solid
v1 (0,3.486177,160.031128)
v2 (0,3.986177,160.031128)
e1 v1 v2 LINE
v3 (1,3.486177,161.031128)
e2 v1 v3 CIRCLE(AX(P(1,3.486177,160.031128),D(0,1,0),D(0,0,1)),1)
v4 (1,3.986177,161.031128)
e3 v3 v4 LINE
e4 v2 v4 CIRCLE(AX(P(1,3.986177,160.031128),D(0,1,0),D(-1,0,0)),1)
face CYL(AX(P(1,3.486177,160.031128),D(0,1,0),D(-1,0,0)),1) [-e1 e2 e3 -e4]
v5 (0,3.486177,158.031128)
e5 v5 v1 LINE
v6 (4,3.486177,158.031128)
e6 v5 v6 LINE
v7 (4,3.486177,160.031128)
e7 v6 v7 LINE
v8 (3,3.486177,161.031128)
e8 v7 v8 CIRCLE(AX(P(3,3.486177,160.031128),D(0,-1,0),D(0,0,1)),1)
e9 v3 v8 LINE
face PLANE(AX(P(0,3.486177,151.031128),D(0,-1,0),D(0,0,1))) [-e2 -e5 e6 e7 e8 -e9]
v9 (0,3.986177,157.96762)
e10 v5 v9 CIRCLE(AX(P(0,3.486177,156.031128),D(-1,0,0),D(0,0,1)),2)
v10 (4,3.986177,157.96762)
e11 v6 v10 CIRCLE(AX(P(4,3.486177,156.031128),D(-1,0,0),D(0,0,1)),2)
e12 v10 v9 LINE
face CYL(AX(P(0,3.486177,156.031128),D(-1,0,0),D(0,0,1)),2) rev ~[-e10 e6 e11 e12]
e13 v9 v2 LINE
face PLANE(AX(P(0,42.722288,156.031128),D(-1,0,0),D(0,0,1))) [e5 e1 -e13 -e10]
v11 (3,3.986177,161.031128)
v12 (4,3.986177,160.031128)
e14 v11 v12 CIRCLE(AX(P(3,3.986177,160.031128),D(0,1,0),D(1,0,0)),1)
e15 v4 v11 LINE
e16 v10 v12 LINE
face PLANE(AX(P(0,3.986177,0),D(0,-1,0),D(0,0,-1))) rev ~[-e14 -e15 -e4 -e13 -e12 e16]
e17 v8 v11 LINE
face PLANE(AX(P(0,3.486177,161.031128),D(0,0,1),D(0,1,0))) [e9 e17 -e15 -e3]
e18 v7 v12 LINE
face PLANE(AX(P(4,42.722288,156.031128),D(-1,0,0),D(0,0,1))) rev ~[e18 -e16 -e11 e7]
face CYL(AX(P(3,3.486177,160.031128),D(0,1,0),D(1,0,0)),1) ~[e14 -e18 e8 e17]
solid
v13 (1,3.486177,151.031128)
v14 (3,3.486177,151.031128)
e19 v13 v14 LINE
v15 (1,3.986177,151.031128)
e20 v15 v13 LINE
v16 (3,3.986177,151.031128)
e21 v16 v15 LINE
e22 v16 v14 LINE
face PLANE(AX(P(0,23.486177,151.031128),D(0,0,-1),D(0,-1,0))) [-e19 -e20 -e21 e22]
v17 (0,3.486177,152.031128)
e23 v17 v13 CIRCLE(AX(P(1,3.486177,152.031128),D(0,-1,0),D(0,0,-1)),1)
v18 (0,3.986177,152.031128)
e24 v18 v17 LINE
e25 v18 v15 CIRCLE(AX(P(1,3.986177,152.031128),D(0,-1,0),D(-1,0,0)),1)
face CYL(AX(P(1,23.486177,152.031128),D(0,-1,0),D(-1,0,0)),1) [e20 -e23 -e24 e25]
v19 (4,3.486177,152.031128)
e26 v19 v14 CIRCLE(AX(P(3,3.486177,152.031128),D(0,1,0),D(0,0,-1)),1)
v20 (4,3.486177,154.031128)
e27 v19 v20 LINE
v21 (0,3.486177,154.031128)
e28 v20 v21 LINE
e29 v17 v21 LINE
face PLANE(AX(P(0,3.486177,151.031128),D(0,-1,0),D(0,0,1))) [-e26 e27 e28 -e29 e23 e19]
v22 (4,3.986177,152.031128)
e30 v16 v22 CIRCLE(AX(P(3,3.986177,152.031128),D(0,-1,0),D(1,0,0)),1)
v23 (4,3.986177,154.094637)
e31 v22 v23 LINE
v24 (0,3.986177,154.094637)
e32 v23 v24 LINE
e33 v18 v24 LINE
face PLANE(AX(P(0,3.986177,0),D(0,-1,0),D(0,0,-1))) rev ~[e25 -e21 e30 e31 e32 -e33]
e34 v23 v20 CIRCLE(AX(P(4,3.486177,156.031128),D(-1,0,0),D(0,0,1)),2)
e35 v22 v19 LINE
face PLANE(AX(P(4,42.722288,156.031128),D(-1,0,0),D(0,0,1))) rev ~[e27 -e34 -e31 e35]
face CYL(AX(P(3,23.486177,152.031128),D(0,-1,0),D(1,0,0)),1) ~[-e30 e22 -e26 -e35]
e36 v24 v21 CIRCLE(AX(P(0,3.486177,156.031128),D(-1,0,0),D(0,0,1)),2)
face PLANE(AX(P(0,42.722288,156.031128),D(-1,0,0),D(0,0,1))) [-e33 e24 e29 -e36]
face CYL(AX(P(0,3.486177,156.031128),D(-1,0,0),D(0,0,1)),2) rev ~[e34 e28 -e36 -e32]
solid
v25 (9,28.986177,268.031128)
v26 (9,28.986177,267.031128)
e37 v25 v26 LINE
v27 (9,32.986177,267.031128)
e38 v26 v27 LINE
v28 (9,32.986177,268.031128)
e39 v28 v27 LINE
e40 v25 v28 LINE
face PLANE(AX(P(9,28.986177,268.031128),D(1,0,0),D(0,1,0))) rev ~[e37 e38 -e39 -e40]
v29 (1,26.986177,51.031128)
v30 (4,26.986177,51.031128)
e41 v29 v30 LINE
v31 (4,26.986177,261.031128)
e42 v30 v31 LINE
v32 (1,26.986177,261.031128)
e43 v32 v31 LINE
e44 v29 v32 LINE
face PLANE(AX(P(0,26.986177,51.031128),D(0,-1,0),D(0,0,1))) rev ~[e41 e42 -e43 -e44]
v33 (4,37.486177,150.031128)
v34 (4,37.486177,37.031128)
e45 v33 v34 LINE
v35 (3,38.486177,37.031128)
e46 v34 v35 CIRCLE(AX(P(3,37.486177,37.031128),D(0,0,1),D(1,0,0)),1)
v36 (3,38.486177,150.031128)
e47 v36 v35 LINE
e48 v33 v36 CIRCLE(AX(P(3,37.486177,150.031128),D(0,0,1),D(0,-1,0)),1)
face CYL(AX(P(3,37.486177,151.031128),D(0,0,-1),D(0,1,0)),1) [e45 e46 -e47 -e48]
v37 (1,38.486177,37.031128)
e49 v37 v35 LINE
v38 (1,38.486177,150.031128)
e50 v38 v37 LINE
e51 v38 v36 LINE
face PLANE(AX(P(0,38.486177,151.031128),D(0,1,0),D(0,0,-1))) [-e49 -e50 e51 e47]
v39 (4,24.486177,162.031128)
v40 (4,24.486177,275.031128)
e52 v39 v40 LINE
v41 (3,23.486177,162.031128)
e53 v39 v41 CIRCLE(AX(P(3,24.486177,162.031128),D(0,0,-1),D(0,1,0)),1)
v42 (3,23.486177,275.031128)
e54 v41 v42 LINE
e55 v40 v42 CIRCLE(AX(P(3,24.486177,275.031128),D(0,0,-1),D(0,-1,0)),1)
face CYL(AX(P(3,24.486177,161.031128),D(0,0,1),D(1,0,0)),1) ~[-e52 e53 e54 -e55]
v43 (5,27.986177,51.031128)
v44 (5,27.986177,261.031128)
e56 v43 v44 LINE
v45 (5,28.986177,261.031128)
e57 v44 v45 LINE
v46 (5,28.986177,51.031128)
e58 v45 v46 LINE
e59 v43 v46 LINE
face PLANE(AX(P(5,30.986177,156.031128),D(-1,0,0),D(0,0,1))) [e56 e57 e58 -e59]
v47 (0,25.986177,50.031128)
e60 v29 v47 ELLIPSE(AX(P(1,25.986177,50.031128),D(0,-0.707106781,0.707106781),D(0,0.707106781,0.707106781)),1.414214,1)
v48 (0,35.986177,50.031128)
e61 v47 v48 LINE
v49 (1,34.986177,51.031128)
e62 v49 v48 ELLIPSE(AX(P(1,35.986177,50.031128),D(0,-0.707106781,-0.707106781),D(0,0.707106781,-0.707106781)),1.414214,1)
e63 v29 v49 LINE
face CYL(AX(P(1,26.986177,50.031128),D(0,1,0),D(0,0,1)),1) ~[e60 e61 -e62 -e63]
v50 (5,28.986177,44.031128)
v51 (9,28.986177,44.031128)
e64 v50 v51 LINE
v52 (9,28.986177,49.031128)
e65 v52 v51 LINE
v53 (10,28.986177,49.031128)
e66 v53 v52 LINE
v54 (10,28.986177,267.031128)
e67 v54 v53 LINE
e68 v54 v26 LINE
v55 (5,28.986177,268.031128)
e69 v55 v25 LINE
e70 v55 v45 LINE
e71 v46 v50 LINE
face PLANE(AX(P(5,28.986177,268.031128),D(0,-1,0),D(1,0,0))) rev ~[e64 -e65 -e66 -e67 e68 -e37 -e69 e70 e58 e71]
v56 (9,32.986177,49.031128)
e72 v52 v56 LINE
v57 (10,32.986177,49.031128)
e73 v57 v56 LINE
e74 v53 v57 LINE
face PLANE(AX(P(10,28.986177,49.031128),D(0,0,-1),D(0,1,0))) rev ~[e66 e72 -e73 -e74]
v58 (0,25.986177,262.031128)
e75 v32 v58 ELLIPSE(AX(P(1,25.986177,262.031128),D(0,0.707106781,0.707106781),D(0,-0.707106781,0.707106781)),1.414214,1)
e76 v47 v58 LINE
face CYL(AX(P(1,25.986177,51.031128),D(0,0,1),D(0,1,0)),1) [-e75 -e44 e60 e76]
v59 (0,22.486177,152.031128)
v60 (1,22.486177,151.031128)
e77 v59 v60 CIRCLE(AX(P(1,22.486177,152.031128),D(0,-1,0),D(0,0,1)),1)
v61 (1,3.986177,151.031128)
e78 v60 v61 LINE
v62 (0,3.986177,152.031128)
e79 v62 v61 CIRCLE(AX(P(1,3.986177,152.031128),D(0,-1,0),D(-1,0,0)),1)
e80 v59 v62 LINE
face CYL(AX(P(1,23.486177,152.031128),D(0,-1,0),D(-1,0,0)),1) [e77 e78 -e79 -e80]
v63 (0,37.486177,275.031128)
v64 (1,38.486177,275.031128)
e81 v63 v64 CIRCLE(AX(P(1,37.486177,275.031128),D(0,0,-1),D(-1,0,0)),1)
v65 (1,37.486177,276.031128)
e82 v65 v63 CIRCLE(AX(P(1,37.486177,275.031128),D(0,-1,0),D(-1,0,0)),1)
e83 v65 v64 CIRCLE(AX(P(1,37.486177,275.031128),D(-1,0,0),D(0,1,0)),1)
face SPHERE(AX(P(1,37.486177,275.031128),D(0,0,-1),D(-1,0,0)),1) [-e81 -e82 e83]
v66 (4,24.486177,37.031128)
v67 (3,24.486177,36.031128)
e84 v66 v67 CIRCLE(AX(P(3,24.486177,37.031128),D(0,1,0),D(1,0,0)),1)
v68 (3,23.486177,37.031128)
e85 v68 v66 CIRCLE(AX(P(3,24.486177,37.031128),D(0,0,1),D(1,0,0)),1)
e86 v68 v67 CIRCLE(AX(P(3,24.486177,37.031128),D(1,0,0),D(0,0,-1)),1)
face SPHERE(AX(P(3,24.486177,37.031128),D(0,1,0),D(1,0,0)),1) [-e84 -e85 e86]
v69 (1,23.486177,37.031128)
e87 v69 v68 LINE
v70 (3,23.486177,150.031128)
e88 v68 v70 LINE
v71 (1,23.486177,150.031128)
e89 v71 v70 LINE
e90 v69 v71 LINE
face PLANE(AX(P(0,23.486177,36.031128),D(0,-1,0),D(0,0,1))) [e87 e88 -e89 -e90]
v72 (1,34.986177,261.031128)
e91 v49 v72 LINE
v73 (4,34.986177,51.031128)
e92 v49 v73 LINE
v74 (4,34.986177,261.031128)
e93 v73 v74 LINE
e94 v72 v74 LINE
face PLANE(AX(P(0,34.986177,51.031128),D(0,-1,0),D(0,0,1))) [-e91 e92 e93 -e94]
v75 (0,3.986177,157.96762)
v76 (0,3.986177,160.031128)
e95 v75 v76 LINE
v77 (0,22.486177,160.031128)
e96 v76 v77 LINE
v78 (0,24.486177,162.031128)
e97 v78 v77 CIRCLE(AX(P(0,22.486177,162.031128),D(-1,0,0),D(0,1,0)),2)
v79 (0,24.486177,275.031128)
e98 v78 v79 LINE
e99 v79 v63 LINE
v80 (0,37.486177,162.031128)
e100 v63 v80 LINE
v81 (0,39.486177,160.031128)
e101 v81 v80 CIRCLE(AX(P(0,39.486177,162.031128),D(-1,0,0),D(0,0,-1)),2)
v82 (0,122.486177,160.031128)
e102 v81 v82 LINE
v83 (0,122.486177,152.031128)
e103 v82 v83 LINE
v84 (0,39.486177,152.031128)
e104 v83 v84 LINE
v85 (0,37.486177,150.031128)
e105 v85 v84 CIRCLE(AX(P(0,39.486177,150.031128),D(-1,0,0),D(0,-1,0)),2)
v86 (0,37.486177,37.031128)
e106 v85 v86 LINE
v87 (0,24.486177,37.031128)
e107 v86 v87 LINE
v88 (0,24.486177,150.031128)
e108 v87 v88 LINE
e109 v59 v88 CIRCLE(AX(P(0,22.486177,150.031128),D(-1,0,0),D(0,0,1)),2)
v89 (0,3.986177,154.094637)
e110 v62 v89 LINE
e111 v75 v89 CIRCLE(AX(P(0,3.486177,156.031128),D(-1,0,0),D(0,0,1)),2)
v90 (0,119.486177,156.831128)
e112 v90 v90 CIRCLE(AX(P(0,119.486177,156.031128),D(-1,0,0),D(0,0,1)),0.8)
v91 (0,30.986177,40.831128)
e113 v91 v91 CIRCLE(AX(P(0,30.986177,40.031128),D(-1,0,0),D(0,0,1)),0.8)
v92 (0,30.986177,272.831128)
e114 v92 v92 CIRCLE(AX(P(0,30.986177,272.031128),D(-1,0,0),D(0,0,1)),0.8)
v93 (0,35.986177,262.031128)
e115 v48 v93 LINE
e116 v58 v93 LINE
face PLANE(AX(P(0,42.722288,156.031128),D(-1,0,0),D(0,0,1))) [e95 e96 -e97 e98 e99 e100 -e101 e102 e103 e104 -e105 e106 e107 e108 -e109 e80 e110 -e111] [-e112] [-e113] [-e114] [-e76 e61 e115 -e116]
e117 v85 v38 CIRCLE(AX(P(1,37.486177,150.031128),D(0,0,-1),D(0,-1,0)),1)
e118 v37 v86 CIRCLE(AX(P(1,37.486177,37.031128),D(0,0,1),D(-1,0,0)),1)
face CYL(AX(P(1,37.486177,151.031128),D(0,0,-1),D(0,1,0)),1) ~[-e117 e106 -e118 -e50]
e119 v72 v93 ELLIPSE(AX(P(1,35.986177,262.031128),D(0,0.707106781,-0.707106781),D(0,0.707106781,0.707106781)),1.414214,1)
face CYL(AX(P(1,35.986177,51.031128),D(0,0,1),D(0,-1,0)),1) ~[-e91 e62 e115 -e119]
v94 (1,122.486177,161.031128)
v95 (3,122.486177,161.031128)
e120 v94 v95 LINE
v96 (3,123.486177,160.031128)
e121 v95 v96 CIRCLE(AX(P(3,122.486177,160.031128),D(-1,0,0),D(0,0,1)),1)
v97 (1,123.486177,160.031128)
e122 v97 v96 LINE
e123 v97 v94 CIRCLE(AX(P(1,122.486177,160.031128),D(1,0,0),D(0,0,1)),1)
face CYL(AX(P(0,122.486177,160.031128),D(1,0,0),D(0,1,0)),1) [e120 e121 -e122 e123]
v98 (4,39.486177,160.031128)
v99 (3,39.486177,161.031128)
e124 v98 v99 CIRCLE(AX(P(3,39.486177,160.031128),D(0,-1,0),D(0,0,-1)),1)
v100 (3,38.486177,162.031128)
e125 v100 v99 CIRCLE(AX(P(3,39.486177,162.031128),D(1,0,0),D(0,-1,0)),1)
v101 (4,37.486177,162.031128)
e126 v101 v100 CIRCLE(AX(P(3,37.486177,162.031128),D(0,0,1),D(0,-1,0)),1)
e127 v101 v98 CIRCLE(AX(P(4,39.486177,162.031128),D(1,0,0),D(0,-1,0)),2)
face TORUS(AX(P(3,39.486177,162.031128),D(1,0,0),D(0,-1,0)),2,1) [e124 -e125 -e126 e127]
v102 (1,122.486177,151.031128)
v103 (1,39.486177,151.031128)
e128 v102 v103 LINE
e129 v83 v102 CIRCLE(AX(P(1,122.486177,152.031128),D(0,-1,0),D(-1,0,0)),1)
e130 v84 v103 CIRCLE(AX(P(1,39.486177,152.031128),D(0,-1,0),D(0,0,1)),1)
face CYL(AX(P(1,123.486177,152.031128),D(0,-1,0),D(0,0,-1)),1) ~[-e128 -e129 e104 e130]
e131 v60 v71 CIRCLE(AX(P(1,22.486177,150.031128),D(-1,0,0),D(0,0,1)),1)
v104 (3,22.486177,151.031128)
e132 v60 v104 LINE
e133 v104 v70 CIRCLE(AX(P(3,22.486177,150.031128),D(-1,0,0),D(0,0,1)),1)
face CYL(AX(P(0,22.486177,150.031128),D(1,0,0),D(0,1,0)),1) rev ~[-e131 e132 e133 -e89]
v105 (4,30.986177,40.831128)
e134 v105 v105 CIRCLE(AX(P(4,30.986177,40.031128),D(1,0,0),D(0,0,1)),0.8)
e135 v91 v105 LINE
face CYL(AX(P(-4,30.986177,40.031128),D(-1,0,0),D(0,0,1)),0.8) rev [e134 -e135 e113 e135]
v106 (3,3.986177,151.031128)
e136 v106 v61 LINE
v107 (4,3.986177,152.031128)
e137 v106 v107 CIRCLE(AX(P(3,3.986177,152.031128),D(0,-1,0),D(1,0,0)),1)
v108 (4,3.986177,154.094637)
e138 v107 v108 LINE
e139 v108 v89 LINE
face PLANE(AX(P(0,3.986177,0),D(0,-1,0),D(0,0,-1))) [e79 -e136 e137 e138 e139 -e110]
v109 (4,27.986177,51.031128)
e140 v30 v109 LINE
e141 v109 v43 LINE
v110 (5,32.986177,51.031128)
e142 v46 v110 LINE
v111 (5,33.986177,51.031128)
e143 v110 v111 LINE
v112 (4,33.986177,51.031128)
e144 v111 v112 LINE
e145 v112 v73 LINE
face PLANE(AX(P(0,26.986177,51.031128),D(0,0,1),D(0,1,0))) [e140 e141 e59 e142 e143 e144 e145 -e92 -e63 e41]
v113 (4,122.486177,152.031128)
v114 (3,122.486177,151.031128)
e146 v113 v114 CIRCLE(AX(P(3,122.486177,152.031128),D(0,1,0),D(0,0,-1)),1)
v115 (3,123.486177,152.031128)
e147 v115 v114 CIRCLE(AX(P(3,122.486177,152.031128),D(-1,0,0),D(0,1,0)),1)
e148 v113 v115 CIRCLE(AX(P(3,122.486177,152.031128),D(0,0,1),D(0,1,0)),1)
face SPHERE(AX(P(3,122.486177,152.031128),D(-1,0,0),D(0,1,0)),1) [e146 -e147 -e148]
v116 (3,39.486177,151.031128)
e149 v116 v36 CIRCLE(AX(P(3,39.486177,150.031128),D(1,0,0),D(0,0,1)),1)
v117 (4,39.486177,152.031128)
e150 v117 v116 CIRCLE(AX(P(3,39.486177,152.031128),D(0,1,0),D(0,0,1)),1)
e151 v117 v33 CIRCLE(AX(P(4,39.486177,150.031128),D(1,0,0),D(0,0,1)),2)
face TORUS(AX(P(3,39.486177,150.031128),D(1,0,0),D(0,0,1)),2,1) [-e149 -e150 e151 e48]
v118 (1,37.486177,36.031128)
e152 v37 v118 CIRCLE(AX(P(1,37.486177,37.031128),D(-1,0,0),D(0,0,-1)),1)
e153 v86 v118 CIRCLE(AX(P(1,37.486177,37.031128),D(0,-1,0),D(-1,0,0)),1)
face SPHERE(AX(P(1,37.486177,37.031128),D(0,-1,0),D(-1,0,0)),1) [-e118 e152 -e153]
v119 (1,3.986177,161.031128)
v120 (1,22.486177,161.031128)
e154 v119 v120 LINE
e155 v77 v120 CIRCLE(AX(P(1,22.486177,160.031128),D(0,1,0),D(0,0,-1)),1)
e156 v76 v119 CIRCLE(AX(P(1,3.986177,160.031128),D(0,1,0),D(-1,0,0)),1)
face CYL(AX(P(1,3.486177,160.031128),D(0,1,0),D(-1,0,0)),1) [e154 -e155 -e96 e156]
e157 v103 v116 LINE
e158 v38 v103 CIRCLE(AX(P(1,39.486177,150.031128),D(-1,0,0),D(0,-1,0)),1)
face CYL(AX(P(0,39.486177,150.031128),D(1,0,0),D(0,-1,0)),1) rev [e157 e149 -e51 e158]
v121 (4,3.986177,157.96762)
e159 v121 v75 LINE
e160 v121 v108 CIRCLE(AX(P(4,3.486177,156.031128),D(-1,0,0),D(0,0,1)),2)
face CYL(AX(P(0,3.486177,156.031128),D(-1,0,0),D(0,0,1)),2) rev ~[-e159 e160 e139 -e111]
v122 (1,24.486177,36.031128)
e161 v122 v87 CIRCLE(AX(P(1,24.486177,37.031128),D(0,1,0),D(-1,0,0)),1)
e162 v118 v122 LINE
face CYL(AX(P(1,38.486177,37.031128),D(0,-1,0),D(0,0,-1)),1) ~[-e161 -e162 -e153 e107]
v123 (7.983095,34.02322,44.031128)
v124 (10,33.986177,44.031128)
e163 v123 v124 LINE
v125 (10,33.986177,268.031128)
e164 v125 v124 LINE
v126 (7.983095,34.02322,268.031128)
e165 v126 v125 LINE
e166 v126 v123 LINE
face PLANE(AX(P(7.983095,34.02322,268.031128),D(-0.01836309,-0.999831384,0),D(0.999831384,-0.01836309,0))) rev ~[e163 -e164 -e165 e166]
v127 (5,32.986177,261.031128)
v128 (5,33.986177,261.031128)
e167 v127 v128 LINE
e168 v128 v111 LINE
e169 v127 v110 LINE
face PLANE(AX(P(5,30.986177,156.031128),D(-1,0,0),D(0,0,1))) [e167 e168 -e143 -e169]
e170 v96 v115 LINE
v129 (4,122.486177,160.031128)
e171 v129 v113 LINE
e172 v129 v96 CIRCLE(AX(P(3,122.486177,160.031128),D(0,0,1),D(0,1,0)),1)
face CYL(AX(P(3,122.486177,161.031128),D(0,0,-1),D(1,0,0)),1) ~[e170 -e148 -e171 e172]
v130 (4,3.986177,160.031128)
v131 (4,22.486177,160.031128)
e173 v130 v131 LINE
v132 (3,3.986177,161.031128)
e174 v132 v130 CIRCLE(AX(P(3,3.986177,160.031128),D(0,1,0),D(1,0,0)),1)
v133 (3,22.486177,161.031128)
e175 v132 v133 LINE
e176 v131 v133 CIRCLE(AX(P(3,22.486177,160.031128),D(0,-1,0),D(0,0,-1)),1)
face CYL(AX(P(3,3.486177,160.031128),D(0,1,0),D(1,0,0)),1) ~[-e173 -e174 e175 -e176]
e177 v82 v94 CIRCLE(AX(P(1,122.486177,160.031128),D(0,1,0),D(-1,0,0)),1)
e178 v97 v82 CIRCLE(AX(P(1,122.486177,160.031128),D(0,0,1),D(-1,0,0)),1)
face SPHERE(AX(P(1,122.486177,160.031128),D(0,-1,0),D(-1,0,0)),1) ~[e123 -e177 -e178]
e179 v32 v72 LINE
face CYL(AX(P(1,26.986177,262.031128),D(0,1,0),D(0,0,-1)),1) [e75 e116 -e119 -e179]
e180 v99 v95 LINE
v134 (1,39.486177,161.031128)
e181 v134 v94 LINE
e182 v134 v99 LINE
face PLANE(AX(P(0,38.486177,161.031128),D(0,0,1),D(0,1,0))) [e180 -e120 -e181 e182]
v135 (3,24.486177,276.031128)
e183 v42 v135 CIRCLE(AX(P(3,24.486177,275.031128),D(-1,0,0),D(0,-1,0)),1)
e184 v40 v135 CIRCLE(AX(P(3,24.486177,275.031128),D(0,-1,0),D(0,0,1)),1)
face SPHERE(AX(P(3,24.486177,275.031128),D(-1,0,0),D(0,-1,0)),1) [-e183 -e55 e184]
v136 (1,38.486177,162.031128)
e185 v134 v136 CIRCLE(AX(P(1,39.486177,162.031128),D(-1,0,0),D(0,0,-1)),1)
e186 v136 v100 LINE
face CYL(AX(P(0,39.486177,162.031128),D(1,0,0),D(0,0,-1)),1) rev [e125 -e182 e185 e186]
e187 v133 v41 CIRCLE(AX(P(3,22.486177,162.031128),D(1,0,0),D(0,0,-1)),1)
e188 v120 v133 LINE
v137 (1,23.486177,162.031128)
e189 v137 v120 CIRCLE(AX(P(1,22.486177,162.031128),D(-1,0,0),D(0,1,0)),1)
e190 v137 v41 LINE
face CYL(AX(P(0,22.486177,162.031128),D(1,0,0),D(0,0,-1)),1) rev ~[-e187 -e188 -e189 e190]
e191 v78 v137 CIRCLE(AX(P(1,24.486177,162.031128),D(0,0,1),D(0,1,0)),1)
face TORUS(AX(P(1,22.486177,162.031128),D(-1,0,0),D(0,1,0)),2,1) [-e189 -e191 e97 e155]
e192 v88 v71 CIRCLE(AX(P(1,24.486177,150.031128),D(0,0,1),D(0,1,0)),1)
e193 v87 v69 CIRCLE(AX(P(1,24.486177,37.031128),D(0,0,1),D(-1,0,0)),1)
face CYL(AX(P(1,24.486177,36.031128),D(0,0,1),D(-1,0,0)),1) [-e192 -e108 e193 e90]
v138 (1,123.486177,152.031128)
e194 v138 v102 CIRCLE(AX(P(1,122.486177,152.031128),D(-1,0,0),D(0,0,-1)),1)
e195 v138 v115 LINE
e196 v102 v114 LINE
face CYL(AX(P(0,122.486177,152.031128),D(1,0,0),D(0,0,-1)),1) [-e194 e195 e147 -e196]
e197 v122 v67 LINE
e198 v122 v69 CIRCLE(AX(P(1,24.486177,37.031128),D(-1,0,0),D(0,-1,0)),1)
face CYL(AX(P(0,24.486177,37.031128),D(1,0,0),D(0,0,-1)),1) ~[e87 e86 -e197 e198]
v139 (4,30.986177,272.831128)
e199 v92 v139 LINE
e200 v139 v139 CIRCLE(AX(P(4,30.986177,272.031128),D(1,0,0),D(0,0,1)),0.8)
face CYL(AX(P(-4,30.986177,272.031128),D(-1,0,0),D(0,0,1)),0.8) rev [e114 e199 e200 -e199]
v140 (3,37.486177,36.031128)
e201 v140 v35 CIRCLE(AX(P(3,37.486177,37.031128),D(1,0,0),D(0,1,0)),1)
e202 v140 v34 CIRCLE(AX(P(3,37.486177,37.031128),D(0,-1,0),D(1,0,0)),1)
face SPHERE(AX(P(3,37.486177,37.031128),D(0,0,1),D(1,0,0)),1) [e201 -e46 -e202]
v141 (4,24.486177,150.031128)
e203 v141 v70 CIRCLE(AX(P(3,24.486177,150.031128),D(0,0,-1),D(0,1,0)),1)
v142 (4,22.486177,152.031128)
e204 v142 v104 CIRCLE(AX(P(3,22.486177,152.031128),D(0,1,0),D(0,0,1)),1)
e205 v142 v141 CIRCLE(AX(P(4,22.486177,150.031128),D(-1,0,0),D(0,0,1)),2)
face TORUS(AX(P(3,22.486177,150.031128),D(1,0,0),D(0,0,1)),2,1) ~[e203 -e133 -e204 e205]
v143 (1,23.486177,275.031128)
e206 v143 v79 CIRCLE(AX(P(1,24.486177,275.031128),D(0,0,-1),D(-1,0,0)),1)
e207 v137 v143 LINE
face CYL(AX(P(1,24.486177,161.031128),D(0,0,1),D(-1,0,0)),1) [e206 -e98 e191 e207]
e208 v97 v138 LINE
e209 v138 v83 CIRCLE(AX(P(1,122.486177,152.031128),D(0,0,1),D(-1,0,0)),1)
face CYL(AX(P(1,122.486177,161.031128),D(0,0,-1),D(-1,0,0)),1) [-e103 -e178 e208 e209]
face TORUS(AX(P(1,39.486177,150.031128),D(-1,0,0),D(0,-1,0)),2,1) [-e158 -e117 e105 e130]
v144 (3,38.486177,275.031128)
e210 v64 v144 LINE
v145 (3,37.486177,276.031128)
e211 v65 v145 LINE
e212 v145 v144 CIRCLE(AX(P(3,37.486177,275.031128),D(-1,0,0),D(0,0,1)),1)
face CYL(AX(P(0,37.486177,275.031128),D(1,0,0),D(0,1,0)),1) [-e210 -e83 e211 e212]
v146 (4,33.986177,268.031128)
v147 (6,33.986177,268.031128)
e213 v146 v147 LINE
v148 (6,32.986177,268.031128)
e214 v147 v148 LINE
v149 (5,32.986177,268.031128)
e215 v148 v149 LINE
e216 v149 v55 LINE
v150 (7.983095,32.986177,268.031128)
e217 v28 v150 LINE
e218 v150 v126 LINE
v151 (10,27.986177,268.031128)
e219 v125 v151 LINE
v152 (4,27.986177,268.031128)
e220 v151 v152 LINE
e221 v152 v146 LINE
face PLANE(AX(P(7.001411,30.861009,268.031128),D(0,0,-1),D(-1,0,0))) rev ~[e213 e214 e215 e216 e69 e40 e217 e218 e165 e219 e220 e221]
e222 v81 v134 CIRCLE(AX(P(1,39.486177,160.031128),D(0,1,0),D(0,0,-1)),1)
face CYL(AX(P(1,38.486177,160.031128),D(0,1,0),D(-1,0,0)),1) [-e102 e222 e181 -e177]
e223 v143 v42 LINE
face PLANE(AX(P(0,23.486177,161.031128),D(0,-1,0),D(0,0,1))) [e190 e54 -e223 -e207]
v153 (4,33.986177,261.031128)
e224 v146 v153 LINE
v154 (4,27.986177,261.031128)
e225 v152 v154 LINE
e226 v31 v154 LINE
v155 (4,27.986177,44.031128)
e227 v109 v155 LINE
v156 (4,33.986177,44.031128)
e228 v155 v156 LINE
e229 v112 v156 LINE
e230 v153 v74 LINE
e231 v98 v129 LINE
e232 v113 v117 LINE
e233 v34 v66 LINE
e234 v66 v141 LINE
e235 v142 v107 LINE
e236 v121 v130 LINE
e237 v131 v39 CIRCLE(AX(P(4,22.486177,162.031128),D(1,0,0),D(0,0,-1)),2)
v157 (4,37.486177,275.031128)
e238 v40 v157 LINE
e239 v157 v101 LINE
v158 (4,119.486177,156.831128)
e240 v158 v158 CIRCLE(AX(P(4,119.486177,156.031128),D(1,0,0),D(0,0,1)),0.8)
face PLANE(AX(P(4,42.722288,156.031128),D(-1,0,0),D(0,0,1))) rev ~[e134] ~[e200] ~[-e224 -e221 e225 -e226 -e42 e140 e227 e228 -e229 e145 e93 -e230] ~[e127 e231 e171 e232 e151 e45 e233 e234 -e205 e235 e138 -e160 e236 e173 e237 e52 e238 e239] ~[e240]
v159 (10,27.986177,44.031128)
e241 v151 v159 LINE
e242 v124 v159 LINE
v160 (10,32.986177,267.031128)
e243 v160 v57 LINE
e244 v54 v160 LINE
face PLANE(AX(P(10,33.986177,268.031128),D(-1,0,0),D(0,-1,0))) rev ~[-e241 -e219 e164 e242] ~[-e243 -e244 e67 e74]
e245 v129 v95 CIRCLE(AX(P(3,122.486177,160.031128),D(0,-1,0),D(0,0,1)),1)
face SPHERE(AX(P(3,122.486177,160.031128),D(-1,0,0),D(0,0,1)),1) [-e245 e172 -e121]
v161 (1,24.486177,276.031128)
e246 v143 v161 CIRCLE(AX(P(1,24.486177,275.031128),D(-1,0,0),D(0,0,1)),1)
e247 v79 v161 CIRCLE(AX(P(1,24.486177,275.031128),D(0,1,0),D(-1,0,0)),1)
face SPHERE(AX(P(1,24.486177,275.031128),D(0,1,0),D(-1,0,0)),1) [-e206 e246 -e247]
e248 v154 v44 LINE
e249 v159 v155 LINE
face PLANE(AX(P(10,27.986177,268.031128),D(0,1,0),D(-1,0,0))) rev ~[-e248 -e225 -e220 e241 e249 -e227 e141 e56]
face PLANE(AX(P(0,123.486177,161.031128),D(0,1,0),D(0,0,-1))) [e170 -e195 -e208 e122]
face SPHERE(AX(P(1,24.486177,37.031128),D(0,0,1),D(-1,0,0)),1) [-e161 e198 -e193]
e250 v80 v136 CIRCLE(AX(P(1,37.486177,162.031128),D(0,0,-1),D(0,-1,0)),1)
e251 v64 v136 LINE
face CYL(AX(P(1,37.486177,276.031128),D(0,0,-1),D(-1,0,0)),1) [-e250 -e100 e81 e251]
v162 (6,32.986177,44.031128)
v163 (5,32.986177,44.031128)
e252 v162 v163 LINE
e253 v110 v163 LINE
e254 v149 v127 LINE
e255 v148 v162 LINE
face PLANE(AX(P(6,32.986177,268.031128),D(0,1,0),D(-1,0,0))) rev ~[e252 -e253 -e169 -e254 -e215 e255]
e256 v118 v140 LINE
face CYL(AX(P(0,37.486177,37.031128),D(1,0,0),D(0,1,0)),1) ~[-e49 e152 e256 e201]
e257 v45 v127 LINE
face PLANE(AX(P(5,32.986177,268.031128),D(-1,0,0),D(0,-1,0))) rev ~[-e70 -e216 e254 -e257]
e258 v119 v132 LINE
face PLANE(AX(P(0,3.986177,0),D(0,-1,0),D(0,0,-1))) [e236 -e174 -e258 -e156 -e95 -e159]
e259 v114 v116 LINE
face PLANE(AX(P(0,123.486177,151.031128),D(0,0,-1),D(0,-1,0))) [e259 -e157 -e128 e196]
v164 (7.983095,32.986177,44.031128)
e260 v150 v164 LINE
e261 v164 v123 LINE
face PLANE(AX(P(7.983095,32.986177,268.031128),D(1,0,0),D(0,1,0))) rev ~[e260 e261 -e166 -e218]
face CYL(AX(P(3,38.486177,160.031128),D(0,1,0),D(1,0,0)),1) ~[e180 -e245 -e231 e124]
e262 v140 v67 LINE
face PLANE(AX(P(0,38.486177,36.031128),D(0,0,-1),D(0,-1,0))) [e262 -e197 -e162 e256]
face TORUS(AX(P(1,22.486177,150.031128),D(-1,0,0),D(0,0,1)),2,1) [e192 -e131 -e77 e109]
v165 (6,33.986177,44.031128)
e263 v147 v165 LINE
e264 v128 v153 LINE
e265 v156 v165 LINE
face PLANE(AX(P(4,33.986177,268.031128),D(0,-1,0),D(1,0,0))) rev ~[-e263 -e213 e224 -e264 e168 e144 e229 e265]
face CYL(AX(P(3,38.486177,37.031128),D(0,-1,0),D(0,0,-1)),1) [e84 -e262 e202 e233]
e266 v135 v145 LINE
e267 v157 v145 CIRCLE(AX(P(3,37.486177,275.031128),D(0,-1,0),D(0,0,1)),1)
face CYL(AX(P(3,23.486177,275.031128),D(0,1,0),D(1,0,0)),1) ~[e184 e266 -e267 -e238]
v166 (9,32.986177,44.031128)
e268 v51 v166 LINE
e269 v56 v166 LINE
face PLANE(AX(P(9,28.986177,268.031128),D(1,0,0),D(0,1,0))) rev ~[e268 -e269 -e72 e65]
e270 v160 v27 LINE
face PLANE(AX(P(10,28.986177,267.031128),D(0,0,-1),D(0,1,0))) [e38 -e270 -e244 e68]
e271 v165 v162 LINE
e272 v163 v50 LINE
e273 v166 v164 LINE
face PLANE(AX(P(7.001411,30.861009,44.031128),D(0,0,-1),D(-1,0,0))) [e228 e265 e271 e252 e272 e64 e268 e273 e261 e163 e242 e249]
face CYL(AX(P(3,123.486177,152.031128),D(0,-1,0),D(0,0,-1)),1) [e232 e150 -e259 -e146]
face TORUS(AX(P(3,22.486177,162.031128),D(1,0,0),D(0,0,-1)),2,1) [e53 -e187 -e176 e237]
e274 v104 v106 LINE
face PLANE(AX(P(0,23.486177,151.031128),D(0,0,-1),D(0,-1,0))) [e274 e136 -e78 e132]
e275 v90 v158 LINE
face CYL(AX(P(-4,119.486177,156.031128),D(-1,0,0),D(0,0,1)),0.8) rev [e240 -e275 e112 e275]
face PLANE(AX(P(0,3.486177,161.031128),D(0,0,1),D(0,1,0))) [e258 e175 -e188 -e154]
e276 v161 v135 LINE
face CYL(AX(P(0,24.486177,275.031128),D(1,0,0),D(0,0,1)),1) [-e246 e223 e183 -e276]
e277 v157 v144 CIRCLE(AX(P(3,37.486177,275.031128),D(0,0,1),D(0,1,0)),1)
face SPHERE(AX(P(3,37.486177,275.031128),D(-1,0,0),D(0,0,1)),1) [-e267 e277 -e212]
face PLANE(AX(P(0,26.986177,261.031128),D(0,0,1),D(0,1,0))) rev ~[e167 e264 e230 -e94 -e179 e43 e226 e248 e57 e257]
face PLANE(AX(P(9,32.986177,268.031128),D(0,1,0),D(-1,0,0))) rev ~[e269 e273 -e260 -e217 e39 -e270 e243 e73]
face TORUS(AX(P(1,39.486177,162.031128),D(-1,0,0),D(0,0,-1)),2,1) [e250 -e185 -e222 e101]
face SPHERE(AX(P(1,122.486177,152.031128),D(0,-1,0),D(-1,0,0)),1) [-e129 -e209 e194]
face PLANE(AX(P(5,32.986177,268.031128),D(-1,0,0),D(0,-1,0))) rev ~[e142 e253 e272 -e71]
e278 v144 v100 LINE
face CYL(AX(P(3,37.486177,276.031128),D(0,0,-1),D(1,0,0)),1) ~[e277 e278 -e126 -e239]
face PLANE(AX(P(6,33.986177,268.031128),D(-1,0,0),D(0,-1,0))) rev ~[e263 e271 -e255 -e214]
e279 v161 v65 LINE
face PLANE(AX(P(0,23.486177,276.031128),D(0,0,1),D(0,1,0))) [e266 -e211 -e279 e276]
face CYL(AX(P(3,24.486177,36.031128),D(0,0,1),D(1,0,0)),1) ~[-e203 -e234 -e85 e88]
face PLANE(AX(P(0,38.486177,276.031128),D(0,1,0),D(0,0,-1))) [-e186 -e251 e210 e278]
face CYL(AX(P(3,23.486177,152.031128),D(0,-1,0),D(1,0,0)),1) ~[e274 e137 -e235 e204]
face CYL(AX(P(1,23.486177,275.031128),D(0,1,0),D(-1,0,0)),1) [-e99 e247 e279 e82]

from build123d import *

# Parameters (mm, degrees)
BOSS_EXTRUDE1_DEPTH     = 4
CUT_EXTRUDE1_DEPTH      = 4
CUT_EXTRUDE1_DEPTH_BACK = 4
SKETCH4_R               = 0.8
SKETCH4_R_2             = 2
FILLET1_R               = 1
BOSS_EXTRUDE5_DEPTH     = 224
SKETCH9_W               = 218
SKETCH9_H               = 4
CUT_EXTRUDE2_DEPTH      = 2
SKETCH11_W              = 210
SKETCH11_H              = 8
CUT_EXTRUDE3_DEPTH      = 5
FILLET4_R               = 1
SKETCH12_R              = 2
CUT_EXTRUDE4_DEPTH      = 5


with BuildPart() as part:
    # Sketch3 → Boss-Extrude1 (new body)
    with BuildSketch(Plane(origin=(0, 0, 0), x_dir=(0, 0, -1), z_dir=(1, 0, 0))):
        Polygon((-151.031128477, 38.486176731), (-36.031128477, 38.486176731), (-36.031128477, 23.486176731), (-151.031128477, 23.486176731), (-151.031128477, 3.486176731), (-161.031128477, 3.486176731), (-161.031128477, 23.486176731), (-276.031128477, 23.486176731), (-276.031128477, 38.486176731), (-161.031128477, 38.486176731), (-161.031128477, 123.486176731), (-151.031128477, 123.486176731), align=None)
    extrude(amount=BOSS_EXTRUDE1_DEPTH)

    # Sketch4 → Cut-Extrude1 (cut, two sides: drawn at the far end of the back side and taken through both)
    with BuildSketch(Plane(origin=(0, 0, 0), x_dir=(0, 0, -1), z_dir=(1, 0, 0)).offset(-CUT_EXTRUDE1_DEPTH_BACK)):
        with Locations((-156.031128477, 119.486176731)):
            Circle(SKETCH4_R)
        with Locations((-272.031128477, 30.986176731)):
            Circle(SKETCH4_R)
        with Locations((-40.031128477, 30.986176731)):
            Circle(SKETCH4_R)
        with Locations((-156.031128477, 30.986176731)):
            Circle(SKETCH4_R_2)
    extrude(amount=CUT_EXTRUDE1_DEPTH + CUT_EXTRUDE1_DEPTH_BACK, mode=Mode.SUBTRACT)

    # Fillet1
    fillet1_edges = [part.edges().sort_by_distance(p)[0] for p in [
        (2, 123.486176731, 161.031128477),
        (2, 38.486176731, 161.031128477),
        (2, 38.486176731, 276.031128477),
        (2, 23.486176731, 276.031128477),
        (2, 23.486176731, 161.031128477),
        (2, 23.486176731, 151.031128477),
        (2, 23.486176731, 36.031128477),
        (2, 38.486176731, 36.031128477),
        (2, 38.486176731, 151.031128477),
        (2, 123.486176731, 151.031128477),
        (4, 80.986176731, 161.031128477),
        (4, 38.486176731, 218.531128477),
        (4, 30.986176731, 276.031128477),
        (4, 23.486176731, 218.531128477),
        (4, 13.486176731, 161.031128477),
        (4, 13.486176731, 151.031128477),
        (4, 23.486176731, 93.531128477),
        (4, 30.986176731, 36.031128477),
        (4, 38.486176731, 93.531128477),
        (4, 80.986176731, 151.031128477),
        (4, 123.486176731, 156.031128477),
        (0, 80.986176731, 161.031128477),
        (0, 38.486176731, 218.531128477),
        (0, 30.986176731, 276.031128477),
        (0, 23.486176731, 218.531128477),
        (0, 13.486176731, 161.031128477),
        (0, 13.486176731, 151.031128477),
        (0, 23.486176731, 93.531128477),
        (0, 30.986176731, 36.031128477),
        (0, 38.486176731, 93.531128477),
        (0, 80.986176731, 151.031128477),
        (0, 123.486176731, 156.031128477),
    ]]
    fillet(fillet1_edges, radius=FILLET1_R)

    # Sketch7 → Boss-Extrude5 (add)
    with BuildSketch(Plane.XY.offset(268.031128477)):
        Polygon((6, 33.986176731), (6, 32.986176731), (5, 32.986176731), (5, 28.986176731), (9, 28.986176731), (9, 32.986176731), (7.983095202, 32.986176731), (7.983095202, 34.023219581), (10, 33.986176731), (10, 27.986176731), (4, 27.986176731), (4, 33.986176731), align=None)
    extrude(amount=-BOSS_EXTRUDE5_DEPTH)

    # Sketch9 → Cut-Extrude2 (cut)
    with BuildSketch(Plane(origin=(10, 0, 0), x_dir=(0, 0, -1), z_dir=(1, 0, 0))):
        with Locations((-158.031128477, 30.986176731)):
            Rectangle(SKETCH9_W, SKETCH9_H)
    extrude(amount=-CUT_EXTRUDE2_DEPTH, mode=Mode.SUBTRACT)


with BuildPart() as body_2:
    # Split1: the piece on the far side of the plane
    add(part.part)
    split(bisect_by=Plane(origin=(0, 3.986176731, 0), x_dir=(0, 0, -1), z_dir=(0, -1, 0)), keep=Keep.BOTTOM)

    # Sketch11 → Cut-Extrude3 (cut)
    with BuildSketch(Plane.ZY):
        with Locations((156.031128477, 30.986176731)):
            Rectangle(SKETCH11_W, SKETCH11_H)
    extrude(amount=-CUT_EXTRUDE3_DEPTH, mode=Mode.SUBTRACT)

    # Fillet4
    fillet4_edges = [body_2.edges().sort_by_distance(p)[0] for p in [
        (0, 30.986176731, 261.031128477),
        (0, 26.986176731, 156.031128477),
        (0, 34.986176731, 156.031128477),
        (0, 30.986176731, 51.031128477),
    ]]
    fillet(fillet4_edges, radius=FILLET4_R)


with BuildPart() as part_1:
    add(part.part)

    # Split1
    split(bisect_by=Plane(origin=(0, 3.986176731, 0), x_dir=(0, 0, -1), z_dir=(0, -1, 0)), keep=Keep.TOP)


with BuildPart() as cut_extrude4_tool:
    # Sketch12 → Cut-Extrude4 (new body)
    with BuildSketch(Plane.ZY):
        with Locations((156.031128477, 3.486176731)):
            Circle(SKETCH12_R)
    extrude(amount=-CUT_EXTRUDE4_DEPTH)


with BuildPart() as part_2:
    add(part_1.part)

    # Cut-Extrude4: cut by cut_extrude4_tool
    add(cut_extrude4_tool.part, mode=Mode.SUBTRACT)


with BuildPart() as body_2_1:
    add(body_2.part)

    # Cut-Extrude4: cut by cut_extrude4_tool
    add(cut_extrude4_tool.part, mode=Mode.SUBTRACT)


solid = Compound([part_2.part, body_2_1.part])
